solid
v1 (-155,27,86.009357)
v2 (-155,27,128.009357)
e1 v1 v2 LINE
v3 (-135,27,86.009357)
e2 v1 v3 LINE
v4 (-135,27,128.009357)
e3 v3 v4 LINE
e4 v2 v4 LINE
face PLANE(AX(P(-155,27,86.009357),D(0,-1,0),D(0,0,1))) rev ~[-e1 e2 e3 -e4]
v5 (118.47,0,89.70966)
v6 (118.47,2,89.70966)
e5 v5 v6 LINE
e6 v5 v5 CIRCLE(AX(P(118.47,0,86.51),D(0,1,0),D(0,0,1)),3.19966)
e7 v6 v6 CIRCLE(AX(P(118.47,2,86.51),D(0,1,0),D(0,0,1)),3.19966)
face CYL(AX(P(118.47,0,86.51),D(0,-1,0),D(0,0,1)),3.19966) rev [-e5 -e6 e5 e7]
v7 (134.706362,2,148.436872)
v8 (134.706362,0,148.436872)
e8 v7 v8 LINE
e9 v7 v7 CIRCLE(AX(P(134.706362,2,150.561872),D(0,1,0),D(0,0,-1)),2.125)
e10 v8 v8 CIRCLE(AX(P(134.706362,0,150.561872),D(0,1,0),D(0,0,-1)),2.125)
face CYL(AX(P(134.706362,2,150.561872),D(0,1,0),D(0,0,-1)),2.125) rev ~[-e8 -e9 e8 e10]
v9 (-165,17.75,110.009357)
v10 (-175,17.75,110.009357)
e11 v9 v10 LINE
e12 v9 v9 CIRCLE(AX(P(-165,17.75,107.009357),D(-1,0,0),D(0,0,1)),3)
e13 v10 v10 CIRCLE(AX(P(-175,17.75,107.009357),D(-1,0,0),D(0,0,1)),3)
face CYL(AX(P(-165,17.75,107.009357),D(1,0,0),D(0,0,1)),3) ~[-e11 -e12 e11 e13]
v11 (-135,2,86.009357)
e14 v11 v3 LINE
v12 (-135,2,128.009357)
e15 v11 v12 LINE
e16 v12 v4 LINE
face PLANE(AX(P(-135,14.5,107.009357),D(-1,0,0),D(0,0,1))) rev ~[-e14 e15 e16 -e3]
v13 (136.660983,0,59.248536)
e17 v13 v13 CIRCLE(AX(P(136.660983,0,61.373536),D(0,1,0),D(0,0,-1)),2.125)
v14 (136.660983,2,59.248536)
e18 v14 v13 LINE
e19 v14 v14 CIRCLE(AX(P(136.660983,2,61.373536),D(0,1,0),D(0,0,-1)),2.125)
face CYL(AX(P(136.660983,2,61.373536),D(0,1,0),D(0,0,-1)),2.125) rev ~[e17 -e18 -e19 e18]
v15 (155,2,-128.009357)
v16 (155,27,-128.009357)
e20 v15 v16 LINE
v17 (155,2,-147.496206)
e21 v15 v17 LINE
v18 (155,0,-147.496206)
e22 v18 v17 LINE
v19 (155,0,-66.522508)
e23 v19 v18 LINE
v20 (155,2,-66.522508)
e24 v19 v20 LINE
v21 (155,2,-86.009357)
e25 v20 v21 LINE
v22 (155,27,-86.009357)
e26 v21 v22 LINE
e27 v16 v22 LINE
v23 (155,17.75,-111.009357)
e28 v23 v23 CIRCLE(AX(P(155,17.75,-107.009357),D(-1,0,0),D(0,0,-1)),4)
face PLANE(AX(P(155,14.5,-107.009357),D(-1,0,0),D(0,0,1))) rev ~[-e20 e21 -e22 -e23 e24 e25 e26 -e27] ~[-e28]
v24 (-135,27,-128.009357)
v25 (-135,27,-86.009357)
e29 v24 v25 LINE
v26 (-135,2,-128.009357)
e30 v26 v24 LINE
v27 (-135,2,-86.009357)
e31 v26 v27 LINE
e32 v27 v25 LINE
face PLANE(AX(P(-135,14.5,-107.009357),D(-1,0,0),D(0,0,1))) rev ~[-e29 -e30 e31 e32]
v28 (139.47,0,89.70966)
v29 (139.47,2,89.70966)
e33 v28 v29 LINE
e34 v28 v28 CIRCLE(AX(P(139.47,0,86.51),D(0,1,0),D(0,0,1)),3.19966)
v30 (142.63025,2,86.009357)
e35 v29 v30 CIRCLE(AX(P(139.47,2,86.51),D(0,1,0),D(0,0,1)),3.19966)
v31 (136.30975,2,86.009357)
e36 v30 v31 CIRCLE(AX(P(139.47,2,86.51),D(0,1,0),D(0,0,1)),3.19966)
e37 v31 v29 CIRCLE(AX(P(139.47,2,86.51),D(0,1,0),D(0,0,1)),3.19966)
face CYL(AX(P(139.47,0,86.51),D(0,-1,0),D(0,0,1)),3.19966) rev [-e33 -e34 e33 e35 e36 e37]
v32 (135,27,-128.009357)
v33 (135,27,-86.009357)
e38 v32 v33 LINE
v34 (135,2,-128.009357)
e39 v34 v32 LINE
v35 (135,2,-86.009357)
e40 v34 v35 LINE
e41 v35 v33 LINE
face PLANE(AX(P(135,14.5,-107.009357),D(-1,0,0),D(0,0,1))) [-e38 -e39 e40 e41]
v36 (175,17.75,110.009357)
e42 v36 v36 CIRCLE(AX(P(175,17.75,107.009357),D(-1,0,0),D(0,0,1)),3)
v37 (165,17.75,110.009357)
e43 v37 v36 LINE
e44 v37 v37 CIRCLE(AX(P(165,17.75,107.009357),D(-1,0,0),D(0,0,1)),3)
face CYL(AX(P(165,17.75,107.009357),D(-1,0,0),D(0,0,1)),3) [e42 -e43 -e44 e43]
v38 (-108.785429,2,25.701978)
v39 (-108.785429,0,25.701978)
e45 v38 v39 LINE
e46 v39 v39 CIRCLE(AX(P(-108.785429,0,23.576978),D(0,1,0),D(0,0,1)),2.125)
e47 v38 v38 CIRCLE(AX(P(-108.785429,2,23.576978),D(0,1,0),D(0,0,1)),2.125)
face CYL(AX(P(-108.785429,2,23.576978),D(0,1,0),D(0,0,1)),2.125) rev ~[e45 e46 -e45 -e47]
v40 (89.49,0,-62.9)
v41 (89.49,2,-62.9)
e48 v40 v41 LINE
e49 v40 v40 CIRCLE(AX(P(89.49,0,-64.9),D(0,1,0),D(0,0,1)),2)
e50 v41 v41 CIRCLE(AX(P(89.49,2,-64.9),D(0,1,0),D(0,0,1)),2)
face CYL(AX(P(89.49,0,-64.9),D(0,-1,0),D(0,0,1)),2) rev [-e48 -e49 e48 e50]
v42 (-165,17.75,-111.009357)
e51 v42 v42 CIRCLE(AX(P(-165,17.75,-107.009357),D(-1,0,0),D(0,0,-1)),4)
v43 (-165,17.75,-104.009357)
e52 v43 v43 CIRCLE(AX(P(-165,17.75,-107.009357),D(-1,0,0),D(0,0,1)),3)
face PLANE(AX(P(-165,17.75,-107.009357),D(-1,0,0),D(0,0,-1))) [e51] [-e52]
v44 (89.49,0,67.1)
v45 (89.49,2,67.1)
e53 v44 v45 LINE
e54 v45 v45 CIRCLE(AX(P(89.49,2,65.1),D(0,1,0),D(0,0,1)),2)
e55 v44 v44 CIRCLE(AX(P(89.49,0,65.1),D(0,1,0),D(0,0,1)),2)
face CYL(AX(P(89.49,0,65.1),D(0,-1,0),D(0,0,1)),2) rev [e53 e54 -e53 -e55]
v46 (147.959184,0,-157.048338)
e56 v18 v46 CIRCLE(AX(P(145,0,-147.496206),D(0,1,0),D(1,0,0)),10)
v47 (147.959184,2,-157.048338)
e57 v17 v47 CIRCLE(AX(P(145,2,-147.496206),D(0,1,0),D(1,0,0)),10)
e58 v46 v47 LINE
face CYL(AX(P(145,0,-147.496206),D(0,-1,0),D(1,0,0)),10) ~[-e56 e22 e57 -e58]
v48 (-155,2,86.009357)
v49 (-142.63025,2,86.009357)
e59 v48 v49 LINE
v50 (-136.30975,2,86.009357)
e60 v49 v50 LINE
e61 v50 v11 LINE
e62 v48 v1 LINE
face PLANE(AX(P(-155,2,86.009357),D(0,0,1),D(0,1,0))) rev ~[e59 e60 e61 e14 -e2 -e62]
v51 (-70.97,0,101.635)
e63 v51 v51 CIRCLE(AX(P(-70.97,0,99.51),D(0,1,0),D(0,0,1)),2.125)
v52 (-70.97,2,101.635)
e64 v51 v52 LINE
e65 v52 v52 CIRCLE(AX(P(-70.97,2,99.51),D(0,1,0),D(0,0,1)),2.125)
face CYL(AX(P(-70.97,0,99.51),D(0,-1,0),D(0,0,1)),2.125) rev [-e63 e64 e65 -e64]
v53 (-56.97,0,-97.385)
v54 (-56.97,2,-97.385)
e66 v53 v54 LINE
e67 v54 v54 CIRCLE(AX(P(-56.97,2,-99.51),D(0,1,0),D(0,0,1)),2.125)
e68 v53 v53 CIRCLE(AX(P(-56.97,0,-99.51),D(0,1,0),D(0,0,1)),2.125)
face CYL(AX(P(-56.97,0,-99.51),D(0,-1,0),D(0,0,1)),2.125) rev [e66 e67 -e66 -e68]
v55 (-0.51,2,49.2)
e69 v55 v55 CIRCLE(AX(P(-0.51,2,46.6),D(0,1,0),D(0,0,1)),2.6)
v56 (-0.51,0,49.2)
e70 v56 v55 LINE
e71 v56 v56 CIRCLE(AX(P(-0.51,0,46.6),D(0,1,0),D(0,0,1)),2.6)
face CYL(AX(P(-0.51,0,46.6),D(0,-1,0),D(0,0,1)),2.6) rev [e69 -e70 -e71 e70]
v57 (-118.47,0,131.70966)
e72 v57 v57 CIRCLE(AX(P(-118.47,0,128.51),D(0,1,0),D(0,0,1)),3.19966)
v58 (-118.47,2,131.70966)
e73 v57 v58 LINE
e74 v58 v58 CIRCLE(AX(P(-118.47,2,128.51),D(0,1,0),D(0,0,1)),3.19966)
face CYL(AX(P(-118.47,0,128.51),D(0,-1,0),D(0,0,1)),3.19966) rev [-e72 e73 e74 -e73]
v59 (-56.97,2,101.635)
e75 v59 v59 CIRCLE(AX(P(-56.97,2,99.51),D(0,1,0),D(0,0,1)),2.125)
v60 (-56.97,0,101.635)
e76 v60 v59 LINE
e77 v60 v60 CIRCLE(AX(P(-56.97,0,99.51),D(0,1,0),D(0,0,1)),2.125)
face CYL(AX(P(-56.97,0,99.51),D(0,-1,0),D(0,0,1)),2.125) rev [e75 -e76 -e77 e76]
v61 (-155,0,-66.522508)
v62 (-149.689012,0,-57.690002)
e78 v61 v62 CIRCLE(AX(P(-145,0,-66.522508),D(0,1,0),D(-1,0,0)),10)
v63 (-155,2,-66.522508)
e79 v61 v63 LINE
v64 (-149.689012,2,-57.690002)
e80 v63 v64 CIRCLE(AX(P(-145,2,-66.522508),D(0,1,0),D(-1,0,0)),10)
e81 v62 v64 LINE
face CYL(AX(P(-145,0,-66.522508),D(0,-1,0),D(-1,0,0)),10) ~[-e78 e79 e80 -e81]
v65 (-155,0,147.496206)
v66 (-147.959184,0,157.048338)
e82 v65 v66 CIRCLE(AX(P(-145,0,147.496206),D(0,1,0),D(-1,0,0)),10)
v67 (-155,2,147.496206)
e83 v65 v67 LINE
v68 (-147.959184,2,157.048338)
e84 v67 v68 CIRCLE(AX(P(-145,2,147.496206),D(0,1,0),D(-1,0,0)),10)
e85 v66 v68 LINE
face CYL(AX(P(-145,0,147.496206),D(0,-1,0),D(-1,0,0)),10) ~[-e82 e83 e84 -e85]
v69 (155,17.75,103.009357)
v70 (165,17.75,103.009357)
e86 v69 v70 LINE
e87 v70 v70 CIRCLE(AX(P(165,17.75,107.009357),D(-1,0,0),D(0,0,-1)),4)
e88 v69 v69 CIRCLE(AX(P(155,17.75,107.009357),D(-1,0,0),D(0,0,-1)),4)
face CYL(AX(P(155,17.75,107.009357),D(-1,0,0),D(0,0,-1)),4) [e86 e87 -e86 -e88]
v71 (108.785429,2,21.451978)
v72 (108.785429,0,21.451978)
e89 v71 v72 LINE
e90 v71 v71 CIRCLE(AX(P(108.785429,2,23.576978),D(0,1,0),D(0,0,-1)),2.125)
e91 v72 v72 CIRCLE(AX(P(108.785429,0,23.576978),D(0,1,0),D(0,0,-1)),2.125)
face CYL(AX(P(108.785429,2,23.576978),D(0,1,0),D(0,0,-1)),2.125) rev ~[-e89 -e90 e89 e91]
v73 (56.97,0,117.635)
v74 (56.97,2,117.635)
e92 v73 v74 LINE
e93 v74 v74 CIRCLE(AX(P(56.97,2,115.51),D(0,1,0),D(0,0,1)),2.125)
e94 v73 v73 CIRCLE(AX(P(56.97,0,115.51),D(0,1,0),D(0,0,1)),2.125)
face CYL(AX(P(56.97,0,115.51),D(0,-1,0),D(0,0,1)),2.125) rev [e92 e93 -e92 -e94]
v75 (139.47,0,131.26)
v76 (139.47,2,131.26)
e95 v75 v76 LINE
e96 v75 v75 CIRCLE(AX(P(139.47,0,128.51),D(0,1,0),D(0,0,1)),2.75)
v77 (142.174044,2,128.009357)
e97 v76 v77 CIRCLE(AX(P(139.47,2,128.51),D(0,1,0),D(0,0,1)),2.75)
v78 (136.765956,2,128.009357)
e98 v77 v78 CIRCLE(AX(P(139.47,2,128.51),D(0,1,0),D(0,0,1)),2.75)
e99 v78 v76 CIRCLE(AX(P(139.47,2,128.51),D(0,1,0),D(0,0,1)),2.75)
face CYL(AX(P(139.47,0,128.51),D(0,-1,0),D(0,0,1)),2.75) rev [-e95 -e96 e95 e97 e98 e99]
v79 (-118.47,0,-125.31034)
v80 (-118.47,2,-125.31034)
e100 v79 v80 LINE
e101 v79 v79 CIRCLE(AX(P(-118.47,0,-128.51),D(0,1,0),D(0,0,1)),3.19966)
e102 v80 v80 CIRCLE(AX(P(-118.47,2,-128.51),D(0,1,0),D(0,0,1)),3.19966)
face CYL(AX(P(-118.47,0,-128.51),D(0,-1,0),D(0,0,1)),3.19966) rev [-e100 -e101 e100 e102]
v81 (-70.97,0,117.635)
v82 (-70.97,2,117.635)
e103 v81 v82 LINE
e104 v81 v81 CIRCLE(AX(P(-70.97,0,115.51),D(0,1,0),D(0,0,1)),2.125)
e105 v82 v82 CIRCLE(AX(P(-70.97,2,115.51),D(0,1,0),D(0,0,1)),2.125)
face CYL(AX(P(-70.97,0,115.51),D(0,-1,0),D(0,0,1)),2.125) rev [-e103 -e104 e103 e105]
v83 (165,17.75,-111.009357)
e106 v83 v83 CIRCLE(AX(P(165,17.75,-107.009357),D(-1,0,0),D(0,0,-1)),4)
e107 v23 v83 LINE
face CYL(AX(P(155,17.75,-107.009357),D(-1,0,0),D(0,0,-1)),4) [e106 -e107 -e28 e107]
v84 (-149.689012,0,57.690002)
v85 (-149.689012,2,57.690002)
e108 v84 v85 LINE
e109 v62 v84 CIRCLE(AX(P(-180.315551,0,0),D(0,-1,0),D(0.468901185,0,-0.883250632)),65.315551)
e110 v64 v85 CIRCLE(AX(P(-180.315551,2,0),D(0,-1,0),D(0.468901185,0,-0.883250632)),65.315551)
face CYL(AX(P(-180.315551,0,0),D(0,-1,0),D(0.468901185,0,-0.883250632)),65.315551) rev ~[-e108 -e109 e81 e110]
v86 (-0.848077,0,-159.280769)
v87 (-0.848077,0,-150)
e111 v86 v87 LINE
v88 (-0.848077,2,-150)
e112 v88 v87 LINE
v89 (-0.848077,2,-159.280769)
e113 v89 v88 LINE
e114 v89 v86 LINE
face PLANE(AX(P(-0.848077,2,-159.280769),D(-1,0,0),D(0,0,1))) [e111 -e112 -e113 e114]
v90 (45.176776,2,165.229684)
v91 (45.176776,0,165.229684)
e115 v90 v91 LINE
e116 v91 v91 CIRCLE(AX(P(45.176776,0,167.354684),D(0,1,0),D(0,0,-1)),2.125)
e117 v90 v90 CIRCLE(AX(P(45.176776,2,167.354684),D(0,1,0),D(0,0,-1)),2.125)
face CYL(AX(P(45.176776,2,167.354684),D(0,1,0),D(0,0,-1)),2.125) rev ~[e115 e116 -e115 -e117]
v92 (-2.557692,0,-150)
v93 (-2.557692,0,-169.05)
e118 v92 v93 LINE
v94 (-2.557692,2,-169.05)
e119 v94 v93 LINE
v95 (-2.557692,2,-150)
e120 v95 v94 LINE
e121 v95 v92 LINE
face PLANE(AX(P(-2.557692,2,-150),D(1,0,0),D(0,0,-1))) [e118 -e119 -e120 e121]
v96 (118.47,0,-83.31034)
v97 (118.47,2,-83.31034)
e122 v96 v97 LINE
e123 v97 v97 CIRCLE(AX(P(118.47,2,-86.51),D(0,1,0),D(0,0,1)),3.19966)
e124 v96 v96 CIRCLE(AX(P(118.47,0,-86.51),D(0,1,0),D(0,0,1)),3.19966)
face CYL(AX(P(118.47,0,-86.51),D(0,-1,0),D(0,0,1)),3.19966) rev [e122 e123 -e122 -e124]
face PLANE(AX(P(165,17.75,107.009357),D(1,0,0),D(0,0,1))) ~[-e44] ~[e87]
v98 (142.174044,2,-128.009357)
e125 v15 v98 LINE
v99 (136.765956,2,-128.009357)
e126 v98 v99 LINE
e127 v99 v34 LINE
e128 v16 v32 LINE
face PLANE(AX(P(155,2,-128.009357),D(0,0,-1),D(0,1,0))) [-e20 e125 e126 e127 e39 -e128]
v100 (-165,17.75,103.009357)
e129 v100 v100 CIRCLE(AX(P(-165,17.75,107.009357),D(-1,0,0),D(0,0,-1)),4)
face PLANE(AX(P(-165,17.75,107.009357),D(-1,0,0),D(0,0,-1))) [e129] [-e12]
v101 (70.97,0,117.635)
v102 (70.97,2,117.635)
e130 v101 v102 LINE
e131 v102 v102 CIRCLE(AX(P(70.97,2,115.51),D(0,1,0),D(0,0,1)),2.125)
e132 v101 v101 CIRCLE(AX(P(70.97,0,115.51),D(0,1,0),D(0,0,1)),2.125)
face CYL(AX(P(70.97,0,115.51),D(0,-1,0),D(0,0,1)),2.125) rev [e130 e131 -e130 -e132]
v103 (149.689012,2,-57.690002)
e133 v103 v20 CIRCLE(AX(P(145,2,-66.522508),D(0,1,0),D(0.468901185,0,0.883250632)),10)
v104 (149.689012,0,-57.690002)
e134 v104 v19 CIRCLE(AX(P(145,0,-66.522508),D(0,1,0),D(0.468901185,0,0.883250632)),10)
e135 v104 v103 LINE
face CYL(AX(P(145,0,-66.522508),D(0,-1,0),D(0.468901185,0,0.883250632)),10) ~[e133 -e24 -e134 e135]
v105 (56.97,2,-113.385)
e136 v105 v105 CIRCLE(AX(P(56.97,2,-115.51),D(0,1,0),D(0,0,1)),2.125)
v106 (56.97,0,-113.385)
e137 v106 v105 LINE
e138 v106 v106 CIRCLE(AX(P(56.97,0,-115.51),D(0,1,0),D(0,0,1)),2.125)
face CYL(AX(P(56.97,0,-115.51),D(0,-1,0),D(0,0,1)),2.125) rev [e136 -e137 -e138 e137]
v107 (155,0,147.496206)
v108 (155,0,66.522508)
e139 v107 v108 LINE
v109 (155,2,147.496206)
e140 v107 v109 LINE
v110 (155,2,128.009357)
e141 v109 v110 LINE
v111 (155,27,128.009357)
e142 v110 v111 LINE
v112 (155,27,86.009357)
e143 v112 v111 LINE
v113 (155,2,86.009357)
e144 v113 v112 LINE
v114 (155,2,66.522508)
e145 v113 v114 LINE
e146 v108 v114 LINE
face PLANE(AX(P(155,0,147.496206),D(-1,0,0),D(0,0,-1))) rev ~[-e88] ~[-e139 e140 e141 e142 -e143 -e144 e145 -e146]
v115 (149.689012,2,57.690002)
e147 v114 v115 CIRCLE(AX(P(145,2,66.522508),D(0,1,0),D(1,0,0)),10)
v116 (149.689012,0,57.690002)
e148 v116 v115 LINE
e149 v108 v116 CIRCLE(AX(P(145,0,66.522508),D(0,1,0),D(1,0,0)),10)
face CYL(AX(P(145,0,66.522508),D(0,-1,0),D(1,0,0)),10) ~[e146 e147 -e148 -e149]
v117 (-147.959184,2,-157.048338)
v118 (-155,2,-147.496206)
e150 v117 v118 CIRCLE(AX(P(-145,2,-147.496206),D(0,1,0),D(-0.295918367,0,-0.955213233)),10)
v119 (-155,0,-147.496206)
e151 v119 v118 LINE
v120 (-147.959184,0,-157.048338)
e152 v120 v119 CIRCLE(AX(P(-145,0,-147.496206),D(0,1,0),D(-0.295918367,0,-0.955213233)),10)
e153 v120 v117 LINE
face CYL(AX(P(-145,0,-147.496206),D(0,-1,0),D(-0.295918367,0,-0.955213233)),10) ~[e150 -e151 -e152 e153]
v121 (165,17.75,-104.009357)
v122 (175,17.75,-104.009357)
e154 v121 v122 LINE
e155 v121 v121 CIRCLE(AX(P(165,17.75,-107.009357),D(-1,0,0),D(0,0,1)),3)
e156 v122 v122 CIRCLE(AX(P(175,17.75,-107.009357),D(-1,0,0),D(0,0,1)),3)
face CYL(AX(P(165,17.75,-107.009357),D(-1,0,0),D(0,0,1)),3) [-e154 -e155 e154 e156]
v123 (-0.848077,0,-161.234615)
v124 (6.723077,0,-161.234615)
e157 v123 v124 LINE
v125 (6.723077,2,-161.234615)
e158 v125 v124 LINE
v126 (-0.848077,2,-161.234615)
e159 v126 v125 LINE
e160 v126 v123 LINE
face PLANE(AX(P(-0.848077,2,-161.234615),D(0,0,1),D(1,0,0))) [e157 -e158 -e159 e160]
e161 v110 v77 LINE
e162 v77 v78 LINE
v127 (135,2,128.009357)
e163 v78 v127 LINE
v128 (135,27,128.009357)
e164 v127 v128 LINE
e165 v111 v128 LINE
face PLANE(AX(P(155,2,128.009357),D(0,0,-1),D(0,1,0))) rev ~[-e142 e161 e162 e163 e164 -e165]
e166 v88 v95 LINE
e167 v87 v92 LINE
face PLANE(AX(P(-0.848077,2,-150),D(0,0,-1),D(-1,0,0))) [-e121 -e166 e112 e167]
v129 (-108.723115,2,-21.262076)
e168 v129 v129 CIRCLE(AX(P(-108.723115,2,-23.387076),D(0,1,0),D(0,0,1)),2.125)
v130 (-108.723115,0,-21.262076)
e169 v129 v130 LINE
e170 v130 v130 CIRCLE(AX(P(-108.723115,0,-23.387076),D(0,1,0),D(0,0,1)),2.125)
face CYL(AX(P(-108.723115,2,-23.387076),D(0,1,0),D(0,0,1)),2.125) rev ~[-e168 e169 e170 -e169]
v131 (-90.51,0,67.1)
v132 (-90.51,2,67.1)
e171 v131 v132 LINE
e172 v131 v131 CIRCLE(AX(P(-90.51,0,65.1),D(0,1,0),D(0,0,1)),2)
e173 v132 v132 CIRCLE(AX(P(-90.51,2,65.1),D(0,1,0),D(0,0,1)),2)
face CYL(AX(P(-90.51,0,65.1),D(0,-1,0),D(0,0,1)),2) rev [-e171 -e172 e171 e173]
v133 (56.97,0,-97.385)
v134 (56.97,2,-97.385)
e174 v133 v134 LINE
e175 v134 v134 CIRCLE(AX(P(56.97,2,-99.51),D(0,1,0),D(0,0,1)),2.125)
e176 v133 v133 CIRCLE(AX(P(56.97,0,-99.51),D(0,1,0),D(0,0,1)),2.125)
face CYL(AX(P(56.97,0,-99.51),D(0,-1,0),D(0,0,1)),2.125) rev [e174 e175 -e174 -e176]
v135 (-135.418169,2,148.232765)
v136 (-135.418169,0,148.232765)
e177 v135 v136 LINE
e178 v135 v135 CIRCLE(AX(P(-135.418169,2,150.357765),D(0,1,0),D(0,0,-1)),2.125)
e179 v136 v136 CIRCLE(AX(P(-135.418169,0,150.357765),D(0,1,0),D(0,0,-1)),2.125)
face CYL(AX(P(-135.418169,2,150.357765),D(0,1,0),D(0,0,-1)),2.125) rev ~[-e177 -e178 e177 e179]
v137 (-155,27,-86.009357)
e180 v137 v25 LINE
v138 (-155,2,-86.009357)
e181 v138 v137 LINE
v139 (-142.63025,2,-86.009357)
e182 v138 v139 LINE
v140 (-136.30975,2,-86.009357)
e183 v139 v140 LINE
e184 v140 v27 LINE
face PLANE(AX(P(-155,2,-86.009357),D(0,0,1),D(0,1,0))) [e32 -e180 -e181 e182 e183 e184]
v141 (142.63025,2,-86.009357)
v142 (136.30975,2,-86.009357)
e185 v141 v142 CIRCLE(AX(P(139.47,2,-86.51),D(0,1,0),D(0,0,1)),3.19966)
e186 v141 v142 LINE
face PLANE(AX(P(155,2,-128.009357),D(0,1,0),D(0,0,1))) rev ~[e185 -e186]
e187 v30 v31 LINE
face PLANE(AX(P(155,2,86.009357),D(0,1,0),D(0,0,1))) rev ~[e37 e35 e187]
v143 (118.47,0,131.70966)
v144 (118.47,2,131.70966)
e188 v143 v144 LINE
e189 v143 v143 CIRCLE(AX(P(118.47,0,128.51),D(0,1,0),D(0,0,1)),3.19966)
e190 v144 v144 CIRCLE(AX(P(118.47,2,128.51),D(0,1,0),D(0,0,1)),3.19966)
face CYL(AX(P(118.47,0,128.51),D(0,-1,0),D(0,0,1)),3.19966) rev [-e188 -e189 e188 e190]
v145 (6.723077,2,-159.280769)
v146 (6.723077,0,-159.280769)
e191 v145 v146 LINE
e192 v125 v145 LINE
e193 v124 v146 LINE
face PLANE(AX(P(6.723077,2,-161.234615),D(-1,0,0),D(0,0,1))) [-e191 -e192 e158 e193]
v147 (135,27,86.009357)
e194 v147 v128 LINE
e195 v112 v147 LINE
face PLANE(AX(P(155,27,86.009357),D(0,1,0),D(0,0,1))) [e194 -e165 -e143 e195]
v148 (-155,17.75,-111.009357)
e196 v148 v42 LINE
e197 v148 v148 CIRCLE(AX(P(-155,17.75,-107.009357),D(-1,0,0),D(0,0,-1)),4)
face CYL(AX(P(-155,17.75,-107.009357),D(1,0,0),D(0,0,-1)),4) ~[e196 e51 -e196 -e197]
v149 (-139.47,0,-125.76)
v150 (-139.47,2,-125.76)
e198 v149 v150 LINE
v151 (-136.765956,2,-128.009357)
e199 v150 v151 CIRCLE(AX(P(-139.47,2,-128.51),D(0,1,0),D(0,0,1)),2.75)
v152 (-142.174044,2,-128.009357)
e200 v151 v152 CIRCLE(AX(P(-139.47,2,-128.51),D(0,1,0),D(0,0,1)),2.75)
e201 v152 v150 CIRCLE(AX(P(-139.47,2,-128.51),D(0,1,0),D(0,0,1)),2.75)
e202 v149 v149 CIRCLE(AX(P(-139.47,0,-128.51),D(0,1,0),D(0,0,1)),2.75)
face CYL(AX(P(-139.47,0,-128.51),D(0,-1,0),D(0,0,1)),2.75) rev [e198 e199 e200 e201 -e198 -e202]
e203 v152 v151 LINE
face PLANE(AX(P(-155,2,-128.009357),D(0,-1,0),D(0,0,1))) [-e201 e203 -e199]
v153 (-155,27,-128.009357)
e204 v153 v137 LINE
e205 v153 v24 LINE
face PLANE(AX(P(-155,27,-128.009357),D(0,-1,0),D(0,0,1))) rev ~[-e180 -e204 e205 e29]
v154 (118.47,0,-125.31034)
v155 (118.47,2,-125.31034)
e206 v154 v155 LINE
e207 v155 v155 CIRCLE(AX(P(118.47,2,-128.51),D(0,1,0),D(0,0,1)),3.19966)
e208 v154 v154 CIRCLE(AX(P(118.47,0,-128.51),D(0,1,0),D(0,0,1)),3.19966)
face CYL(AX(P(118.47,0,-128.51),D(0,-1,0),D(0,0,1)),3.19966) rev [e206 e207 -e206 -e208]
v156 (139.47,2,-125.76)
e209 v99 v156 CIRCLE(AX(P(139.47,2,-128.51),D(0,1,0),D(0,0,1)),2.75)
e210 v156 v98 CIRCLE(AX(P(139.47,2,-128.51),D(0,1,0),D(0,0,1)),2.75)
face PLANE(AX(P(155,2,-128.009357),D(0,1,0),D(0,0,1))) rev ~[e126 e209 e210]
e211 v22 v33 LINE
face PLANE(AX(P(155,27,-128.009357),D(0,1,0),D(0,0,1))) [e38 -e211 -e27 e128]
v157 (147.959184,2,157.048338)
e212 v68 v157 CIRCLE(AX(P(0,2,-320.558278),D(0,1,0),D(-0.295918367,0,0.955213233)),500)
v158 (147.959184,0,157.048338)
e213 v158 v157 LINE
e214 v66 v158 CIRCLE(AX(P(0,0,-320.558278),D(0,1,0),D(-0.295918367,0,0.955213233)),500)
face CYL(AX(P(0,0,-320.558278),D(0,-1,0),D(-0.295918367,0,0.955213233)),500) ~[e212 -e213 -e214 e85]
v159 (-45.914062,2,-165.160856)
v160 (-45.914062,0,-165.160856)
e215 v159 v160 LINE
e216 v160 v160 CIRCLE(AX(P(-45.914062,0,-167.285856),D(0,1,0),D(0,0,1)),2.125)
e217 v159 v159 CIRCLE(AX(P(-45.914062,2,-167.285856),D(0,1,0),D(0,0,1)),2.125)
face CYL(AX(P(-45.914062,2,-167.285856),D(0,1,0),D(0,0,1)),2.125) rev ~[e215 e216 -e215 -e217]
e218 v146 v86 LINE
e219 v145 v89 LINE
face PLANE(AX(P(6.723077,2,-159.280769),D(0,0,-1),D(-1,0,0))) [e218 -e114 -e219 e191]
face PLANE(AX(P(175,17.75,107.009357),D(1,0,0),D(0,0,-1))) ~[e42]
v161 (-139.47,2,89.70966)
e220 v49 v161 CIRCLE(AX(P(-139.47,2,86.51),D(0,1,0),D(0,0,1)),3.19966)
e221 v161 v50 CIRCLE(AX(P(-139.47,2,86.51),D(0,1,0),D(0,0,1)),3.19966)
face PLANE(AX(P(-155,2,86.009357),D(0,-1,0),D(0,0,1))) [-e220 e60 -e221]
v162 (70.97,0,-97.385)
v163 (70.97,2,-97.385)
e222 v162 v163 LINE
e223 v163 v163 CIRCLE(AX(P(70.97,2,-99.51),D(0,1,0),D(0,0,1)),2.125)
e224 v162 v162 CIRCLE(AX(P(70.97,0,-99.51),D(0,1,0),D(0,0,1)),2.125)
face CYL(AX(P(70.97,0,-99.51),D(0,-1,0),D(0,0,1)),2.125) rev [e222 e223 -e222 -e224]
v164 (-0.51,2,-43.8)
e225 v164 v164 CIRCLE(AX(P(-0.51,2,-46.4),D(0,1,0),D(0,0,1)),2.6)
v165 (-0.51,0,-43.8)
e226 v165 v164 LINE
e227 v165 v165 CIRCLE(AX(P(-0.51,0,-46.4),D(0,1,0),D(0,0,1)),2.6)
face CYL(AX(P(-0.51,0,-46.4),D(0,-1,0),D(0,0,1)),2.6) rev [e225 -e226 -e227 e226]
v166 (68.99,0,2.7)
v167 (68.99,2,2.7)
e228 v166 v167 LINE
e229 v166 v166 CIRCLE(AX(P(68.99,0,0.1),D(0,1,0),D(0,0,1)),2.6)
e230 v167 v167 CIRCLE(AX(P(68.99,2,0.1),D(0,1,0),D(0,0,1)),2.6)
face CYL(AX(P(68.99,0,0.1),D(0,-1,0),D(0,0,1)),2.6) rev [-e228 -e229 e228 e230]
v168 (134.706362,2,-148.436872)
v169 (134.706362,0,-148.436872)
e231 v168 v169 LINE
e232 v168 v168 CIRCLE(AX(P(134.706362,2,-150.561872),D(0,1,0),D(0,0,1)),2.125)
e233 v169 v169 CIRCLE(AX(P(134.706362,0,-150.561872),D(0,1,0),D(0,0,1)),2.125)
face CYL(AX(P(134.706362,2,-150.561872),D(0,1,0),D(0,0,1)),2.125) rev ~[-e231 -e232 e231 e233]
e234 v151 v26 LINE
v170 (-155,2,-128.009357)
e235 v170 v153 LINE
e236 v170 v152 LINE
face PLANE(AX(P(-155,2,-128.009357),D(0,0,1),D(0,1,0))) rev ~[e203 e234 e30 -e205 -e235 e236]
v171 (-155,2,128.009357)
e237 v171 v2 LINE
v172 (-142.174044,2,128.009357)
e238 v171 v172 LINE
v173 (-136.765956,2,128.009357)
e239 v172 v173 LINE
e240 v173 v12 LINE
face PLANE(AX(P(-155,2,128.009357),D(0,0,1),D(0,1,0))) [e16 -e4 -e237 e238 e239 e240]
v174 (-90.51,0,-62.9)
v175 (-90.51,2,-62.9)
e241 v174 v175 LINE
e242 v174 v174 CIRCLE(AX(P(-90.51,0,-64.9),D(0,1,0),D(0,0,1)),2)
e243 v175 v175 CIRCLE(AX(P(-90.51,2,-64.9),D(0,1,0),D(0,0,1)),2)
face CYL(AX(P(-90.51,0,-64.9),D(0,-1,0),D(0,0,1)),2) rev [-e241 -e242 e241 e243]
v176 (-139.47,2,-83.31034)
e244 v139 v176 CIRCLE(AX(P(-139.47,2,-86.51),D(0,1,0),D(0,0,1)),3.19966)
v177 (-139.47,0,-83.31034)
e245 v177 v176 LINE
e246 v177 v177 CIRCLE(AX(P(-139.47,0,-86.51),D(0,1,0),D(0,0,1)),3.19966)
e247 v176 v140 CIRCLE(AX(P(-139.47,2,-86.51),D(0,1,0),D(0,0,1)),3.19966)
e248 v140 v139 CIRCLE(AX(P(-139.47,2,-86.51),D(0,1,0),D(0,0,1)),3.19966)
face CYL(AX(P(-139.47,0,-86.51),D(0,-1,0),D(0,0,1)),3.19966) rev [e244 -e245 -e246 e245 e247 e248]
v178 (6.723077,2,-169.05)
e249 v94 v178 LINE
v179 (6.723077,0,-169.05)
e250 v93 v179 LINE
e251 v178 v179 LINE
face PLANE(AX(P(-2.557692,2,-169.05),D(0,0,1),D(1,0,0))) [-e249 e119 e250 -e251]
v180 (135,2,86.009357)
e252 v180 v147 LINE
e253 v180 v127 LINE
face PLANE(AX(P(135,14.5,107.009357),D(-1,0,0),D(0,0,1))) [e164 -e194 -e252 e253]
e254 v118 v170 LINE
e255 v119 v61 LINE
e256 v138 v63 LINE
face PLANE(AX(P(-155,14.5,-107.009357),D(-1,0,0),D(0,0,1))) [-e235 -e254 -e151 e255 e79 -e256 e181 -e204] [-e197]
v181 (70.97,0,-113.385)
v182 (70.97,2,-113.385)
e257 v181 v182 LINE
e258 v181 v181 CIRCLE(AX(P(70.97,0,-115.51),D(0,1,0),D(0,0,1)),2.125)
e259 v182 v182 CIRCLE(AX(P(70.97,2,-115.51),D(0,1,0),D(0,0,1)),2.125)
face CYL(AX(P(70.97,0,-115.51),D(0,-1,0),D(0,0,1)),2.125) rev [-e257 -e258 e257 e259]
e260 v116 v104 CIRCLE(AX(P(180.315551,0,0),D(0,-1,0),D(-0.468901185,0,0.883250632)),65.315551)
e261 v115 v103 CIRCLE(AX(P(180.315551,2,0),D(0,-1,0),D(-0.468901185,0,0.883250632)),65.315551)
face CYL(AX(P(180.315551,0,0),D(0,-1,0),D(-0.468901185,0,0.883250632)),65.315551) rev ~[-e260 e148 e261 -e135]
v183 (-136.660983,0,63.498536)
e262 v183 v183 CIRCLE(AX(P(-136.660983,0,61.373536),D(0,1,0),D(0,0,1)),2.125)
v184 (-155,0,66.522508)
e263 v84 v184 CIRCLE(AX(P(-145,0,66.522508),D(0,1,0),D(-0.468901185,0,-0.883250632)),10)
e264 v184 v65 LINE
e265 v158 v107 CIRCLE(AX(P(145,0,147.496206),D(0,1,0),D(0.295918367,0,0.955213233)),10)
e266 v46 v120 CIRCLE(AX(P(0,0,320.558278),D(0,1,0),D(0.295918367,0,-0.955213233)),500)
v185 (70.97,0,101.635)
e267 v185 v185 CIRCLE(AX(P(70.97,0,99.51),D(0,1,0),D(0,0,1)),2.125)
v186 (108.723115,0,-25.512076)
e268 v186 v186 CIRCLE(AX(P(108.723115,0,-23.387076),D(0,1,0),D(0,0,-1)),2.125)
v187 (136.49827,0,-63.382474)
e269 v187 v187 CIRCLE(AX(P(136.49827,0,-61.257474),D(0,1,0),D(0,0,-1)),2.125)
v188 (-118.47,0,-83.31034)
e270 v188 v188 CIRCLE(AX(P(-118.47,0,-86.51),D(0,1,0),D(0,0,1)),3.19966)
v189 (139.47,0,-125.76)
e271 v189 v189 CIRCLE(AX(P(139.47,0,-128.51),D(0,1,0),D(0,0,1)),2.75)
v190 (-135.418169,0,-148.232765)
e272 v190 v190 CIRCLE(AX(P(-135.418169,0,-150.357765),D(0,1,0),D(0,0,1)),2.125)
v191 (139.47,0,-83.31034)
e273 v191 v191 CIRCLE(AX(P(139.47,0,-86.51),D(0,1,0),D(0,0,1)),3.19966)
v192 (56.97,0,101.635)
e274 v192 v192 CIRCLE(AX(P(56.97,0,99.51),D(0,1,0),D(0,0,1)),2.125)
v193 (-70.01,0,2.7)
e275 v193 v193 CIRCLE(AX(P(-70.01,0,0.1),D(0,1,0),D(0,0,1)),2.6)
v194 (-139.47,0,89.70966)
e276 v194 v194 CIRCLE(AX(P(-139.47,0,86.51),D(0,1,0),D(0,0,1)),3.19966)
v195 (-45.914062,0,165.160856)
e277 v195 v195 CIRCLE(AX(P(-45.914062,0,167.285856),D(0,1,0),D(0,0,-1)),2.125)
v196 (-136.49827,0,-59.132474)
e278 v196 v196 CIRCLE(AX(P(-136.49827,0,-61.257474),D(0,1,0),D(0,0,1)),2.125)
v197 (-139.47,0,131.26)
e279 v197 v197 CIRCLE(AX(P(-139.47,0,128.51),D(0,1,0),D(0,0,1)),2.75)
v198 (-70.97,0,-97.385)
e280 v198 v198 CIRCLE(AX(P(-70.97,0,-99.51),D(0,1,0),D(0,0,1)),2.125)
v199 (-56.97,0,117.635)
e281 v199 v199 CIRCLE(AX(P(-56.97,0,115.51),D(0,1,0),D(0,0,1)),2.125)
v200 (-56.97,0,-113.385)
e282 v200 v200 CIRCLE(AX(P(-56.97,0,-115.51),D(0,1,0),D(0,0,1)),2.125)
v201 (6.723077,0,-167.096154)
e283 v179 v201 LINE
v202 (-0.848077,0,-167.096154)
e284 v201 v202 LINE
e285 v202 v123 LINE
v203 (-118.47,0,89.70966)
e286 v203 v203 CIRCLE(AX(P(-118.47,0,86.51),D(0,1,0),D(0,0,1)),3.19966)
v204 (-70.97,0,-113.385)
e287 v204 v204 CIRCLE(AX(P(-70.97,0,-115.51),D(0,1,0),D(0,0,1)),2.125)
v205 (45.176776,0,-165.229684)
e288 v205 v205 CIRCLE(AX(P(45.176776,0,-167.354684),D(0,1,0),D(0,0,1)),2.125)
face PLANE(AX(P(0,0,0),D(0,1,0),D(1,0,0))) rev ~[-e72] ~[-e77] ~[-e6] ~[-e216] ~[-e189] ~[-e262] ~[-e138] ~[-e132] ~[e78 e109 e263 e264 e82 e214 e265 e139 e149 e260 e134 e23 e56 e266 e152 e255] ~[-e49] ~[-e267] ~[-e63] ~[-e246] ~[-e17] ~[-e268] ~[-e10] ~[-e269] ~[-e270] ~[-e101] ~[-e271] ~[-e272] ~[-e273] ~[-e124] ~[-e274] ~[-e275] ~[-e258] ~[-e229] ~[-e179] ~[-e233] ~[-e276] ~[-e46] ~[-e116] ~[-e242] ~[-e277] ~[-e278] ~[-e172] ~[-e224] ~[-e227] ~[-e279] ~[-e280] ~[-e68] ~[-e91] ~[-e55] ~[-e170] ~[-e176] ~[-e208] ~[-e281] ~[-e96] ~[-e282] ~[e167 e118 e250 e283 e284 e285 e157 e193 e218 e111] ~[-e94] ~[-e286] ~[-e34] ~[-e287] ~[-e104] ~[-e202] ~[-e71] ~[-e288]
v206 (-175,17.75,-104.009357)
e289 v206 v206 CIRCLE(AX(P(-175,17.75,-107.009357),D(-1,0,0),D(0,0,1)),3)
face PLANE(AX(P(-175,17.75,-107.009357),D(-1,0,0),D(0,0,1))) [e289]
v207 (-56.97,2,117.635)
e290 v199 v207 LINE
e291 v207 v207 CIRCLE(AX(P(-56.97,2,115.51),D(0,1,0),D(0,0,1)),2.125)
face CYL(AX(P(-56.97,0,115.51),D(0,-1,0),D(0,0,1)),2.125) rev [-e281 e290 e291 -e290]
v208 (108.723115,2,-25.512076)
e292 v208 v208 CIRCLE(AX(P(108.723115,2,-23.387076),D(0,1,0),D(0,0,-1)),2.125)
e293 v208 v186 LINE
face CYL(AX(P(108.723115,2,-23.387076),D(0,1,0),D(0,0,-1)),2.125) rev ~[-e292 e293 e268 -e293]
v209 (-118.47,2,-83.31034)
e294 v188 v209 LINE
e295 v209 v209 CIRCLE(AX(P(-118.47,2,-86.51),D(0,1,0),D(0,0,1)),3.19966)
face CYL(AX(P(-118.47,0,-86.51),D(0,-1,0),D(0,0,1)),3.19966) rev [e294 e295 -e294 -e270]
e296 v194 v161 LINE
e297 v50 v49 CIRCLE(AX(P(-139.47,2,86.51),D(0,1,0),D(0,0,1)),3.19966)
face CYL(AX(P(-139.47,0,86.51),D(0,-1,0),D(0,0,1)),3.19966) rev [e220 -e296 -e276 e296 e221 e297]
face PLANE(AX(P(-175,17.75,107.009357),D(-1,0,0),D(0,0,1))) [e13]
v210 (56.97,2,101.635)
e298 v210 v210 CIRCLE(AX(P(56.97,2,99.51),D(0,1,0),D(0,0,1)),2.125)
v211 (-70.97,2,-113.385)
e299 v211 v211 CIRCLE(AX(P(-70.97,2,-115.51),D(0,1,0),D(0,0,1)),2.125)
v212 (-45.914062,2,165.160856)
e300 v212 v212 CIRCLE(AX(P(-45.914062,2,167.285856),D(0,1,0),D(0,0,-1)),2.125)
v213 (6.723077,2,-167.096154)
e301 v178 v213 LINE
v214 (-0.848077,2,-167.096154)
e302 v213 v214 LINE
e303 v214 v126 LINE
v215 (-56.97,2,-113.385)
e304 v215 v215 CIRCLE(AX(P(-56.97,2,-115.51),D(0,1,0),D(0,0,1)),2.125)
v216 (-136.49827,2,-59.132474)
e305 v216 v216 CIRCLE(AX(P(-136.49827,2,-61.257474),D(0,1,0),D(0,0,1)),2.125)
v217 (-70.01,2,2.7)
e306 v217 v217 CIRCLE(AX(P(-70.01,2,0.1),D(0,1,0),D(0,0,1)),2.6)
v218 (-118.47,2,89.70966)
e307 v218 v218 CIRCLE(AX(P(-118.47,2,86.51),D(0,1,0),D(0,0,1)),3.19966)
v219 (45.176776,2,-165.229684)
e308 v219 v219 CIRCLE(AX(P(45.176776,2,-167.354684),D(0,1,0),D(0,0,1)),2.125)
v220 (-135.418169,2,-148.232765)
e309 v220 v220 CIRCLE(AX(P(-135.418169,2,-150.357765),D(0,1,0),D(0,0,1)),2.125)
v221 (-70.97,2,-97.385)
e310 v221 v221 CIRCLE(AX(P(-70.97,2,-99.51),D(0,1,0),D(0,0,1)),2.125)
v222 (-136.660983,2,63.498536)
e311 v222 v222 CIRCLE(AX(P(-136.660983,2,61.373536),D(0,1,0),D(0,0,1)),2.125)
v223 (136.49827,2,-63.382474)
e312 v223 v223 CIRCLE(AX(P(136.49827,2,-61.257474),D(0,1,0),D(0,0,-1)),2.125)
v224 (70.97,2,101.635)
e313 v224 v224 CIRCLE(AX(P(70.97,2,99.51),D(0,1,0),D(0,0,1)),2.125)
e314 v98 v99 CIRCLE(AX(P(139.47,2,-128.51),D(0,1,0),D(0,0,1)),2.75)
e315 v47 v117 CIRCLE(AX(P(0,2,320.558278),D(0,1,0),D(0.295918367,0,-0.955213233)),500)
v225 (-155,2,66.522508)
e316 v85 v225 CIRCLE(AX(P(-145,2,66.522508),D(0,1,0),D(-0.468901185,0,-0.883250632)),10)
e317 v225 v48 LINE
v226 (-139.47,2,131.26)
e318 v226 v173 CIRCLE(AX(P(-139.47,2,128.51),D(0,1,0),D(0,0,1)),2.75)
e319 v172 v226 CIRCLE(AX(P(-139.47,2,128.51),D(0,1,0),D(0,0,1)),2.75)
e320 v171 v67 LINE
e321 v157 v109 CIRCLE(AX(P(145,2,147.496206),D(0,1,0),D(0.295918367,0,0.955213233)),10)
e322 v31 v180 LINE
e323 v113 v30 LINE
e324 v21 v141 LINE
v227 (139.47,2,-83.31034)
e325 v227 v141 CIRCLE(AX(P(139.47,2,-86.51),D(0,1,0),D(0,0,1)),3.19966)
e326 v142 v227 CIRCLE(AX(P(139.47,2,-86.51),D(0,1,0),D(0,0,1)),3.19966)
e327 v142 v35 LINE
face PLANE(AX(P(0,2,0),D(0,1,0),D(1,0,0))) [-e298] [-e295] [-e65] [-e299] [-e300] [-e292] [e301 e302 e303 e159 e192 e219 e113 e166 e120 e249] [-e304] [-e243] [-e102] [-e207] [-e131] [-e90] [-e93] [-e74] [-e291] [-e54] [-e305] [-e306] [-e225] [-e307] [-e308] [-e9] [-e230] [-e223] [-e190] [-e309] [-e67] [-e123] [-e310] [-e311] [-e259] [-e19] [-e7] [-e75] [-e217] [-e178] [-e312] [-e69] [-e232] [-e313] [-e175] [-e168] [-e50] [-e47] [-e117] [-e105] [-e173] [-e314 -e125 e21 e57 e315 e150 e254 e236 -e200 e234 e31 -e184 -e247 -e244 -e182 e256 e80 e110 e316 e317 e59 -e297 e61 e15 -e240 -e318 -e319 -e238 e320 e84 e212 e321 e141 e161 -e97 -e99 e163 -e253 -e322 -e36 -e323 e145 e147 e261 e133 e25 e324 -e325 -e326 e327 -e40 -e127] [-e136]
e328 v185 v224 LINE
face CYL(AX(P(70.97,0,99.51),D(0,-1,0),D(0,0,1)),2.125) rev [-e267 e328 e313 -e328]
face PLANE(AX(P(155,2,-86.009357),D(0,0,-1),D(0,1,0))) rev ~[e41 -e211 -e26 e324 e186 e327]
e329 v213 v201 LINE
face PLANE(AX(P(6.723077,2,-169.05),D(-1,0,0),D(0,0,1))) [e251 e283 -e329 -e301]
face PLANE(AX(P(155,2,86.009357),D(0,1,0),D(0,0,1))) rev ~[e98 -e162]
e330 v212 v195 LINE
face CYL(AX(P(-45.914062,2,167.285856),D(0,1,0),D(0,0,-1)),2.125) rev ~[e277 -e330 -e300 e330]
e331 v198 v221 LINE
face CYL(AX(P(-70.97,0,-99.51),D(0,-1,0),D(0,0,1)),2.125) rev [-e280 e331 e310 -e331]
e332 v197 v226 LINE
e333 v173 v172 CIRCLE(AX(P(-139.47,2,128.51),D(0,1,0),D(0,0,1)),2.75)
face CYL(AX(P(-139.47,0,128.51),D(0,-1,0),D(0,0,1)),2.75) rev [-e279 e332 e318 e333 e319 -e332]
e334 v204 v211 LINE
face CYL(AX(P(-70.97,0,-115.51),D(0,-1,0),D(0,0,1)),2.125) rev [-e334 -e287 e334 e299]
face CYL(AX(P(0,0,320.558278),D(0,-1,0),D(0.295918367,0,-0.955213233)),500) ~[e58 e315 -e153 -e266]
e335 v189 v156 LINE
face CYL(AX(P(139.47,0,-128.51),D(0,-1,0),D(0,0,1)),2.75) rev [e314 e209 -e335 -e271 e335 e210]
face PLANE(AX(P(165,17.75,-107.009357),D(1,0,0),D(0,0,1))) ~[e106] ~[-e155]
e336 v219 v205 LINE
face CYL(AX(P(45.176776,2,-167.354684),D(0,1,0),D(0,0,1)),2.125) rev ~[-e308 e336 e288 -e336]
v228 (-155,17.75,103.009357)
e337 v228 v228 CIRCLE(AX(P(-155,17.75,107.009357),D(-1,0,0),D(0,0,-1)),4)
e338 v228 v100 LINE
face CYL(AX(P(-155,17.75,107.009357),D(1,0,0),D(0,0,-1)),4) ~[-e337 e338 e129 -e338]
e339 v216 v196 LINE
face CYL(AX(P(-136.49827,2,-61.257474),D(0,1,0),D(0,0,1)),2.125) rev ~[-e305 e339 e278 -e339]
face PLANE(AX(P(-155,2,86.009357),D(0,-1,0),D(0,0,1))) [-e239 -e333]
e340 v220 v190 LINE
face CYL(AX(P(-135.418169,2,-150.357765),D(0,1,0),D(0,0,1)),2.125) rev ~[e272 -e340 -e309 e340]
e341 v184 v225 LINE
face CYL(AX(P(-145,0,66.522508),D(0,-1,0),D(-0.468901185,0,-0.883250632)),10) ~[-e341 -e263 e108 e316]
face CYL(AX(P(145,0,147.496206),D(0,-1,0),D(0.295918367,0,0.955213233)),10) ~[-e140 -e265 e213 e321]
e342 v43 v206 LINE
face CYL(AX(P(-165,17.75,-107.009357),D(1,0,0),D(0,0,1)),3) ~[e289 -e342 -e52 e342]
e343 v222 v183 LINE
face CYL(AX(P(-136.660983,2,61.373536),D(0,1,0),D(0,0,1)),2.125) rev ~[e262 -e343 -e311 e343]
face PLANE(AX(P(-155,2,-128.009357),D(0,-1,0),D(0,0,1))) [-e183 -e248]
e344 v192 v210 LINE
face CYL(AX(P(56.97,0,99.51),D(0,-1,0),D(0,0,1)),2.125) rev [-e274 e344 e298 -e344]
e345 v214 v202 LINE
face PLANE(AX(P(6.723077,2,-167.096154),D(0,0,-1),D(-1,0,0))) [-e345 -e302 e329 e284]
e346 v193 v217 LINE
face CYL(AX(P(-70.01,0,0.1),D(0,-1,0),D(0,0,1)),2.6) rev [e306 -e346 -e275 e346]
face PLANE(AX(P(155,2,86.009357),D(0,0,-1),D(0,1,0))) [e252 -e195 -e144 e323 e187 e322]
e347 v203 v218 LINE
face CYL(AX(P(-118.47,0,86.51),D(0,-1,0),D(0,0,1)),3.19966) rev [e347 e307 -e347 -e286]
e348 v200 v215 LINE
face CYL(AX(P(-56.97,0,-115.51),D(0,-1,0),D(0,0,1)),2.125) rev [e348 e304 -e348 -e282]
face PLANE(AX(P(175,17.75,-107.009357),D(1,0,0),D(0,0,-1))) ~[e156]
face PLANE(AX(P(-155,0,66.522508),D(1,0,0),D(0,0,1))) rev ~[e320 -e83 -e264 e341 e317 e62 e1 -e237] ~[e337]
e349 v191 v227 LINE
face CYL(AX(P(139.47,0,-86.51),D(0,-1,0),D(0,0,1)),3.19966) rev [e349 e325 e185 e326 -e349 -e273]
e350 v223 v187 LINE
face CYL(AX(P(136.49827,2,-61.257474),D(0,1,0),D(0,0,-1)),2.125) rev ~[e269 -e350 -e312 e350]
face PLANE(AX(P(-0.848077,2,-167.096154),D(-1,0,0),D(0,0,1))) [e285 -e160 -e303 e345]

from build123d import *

# Parameters (mm, degrees)
SKETCH1_R           = 2.75
SKETCH1_R_2         = 3.19965974
SKETCH1_R_3         = 2.125
SKETCH1_R_4         = 2.6
SKETCH1_R_5         = 2
BOSS_EXTRUDE1_DEPTH = 2
CUT_EXTRUDE1_DEPTH  = 238.125138886
SKETCH3_R           = 2.125
CUT_EXTRUDE2_DEPTH  = 238.125138886
SKETCH5_W           = 42
SKETCH5_H           = 25
BOSS_EXTRUDE2_DEPTH = 20
BOSS_EXTRUDE3_START = -310
SKETCH5_2_W         = 42
SKETCH5_2_H         = 25
BOSS_EXTRUDE3_DEPTH = 20
SKETCH6_R           = 4
BOSS_EXTRUDE4_DEPTH = 10
SKETCH7_R           = 3
BOSS_EXTRUDE5_DEPTH = 10


with BuildPart() as part:
    # Sketch1 → Boss-Extrude1 (new body)
    with BuildSketch(Plane(origin=(0, 0, 0), x_dir=(1, 0, 0), z_dir=(0, 1, 0))):
        with BuildLine():
            Line((-155, 147.496205723), (-155, 66.522508221))
            ThreePointArc((-155, 66.522508221), (-153.570009292, 61.369359597), (-149.689011853, 57.690001904))
            ThreePointArc((-149.689011853, 57.690001904), (-115, 0), (-149.689011853, -57.690001904))
            ThreePointArc((-149.689011853, -57.690001904), (-153.570009292, -61.369359597), (-155, -66.522508221))
            Line((-155, -66.522508221), (-155, -147.496205723))
            ThreePointArc((-155, -147.496205723), (-153.049591193, -153.429508482), (-147.959183673, -157.048338049))
            ThreePointArc((-147.959183673, -157.048338049), (0, -179.441721715), (147.959183673, -157.048338049))
            ThreePointArc((147.959183673, -157.048338049), (153.049591193, -153.429508482), (155, -147.496205723))
            Line((155, -147.496205723), (155, -66.522508221))
            ThreePointArc((155, -66.522508221), (153.570009292, -61.369359597), (149.689011853, -57.690001904))
            ThreePointArc((149.689011853, -57.690001904), (115, 0), (149.689011853, 57.690001904))
            ThreePointArc((149.689011853, 57.690001904), (153.570009292, 61.369359597), (155, 66.522508221))
            Line((155, 66.522508221), (155, 147.496205723))
            ThreePointArc((155, 147.496205723), (153.049591193, 153.429508482), (147.959183673, 157.048338049))
            ThreePointArc((147.959183673, 157.048338049), (0, 179.441721715), (-147.959183673, 157.048338049))
            ThreePointArc((-147.959183673, 157.048338049), (-153.049591193, 153.429508482), (-155, 147.496205723))
        make_face()
        with Locations(Location((-139.47, 128.51, 0), (0, 0, 270))):
            Circle(SKETCH1_R, mode=Mode.SUBTRACT)
        with Locations(Location((-139.47, 86.51, 0), (0, 0, 270))):
            Circle(SKETCH1_R_2, mode=Mode.SUBTRACT)
        with Locations(Location((139.47, 86.51, 0), (0, 0, 270))):
            Circle(SKETCH1_R_2, mode=Mode.SUBTRACT)
        with Locations(Location((139.47, 128.51, 0), (0, 0, 270))):
            Circle(SKETCH1_R, mode=Mode.SUBTRACT)
        with Locations(Location((139.47, -86.51, 0), (0, 0, 270))):
            Circle(SKETCH1_R_2, mode=Mode.SUBTRACT)
        with Locations(Location((139.47, -128.51, 0), (0, 0, 270))):
            Circle(SKETCH1_R, mode=Mode.SUBTRACT)
        with Locations(Location((-139.47, -86.51, 0), (0, 0, 270))):
            Circle(SKETCH1_R_2, mode=Mode.SUBTRACT)
        with Locations(Location((-139.47, -128.51, 0), (0, 0, 270))):
            Circle(SKETCH1_R, mode=Mode.SUBTRACT)
        with Locations(Location((-70.97, 115.51, 0), (0, 0, 270))):
            Circle(SKETCH1_R_3, mode=Mode.SUBTRACT)
        with Locations(Location((-56.97, 115.51, 0), (0, 0, 270))):
            Circle(SKETCH1_R_3, mode=Mode.SUBTRACT)
        with Locations(Location((-70.97, 99.51, 0), (0, 0, 270))):
            Circle(SKETCH1_R_3, mode=Mode.SUBTRACT)
        with Locations(Location((-56.97, 99.51, 0), (0, 0, 270))):
            Circle(SKETCH1_R_3, mode=Mode.SUBTRACT)
        with Locations(Location((56.97, 99.51, 0), (0, 0, 270))):
            Circle(SKETCH1_R_3, mode=Mode.SUBTRACT)
        with Locations(Location((70.97, 99.51, 0), (0, 0, 270))):
            Circle(SKETCH1_R_3, mode=Mode.SUBTRACT)
        with Locations(Location((56.97, 115.51, 0), (0, 0, 270))):
            Circle(SKETCH1_R_3, mode=Mode.SUBTRACT)
        with Locations(Location((70.97, 115.51, 0), (0, 0, 270))):
            Circle(SKETCH1_R_3, mode=Mode.SUBTRACT)
        with Locations(Location((70.97, -99.51, 0), (0, 0, 270))):
            Circle(SKETCH1_R_3, mode=Mode.SUBTRACT)
        with Locations(Location((56.97, -99.51, 0), (0, 0, 270))):
            Circle(SKETCH1_R_3, mode=Mode.SUBTRACT)
        with Locations(Location((70.97, -115.51, 0), (0, 0, 270))):
            Circle(SKETCH1_R_3, mode=Mode.SUBTRACT)
        with Locations(Location((56.97, -115.51, 0), (0, 0, 270))):
            Circle(SKETCH1_R_3, mode=Mode.SUBTRACT)
        with Locations(Location((-56.97, -99.51, 0), (0, 0, 270))):
            Circle(SKETCH1_R_3, mode=Mode.SUBTRACT)
        with Locations(Location((-70.97, -99.51, 0), (0, 0, 270))):
            Circle(SKETCH1_R_3, mode=Mode.SUBTRACT)
        with Locations(Location((-56.97, -115.51, 0), (0, 0, 270))):
            Circle(SKETCH1_R_3, mode=Mode.SUBTRACT)
        with Locations(Location((-70.97, -115.51, 0), (0, 0, 270))):
            Circle(SKETCH1_R_3, mode=Mode.SUBTRACT)
        with Locations(Location((-118.47, 128.51, 0), (0, 0, 270))):
            Circle(SKETCH1_R_2, mode=Mode.SUBTRACT)
        with Locations(Location((-118.47, 86.51, 0), (0, 0, 270))):
            Circle(SKETCH1_R_2, mode=Mode.SUBTRACT)
        with Locations(Location((118.47, 86.51, 0), (0, 0, 270))):
            Circle(SKETCH1_R_2, mode=Mode.SUBTRACT)
        with Locations(Location((118.47, 128.51, 0), (0, 0, 270))):
            Circle(SKETCH1_R_2, mode=Mode.SUBTRACT)
        with Locations(Location((118.47, -128.51, 0), (0, 0, 270))):
            Circle(SKETCH1_R_2, mode=Mode.SUBTRACT)
        with Locations(Location((118.47, -86.51, 0), (0, 0, 270))):
            Circle(SKETCH1_R_2, mode=Mode.SUBTRACT)
        with Locations(Location((-118.47, -86.51, 0), (0, 0, 270))):
            Circle(SKETCH1_R_2, mode=Mode.SUBTRACT)
        with Locations(Location((-118.47, -128.51, 0), (0, 0, 270))):
            Circle(SKETCH1_R_2, mode=Mode.SUBTRACT)
        with Locations(Location((-0.51, 46.4, 0), (0, 0, 270))):
            Circle(SKETCH1_R_4, mode=Mode.SUBTRACT)
        with Locations(Location((68.99, -0.1, 0), (0, 0, 270))):
            Circle(SKETCH1_R_4, mode=Mode.SUBTRACT)
        with Locations(Location((-0.51, -46.6, 0), (0, 0, 270))):
            Circle(SKETCH1_R_4, mode=Mode.SUBTRACT)
        with Locations(Location((-70.01, -0.1, 0), (0, 0, 270))):
            Circle(SKETCH1_R_4, mode=Mode.SUBTRACT)
        with Locations(Location((-90.51, 64.9, 0), (0, 0, 270))):
            Circle(SKETCH1_R_5, mode=Mode.SUBTRACT)
        with Locations(Location((89.49, 64.9, 0), (0, 0, 270))):
            Circle(SKETCH1_R_5, mode=Mode.SUBTRACT)
        with Locations(Location((89.49, -65.1, 0), (0, 0, 270))):
            Circle(SKETCH1_R_5, mode=Mode.SUBTRACT)
        with Locations(Location((-90.51, -65.1, 0), (0, 0, 270))):
            Circle(SKETCH1_R_5, mode=Mode.SUBTRACT)
    extrude(amount=BOSS_EXTRUDE1_DEPTH)

    # Sketch2 → Cut-Extrude1 (cut, through all)
    with BuildSketch(Plane(origin=(0, 2, 0), x_dir=(1, 0, 0), z_dir=(0, 1, 0))):
        Polygon((-2.557692308, 169.05), (6.723076923, 169.05), (6.723076923, 167.096153846), (-0.848076923, 167.096153846), (-0.848076923, 161.234615385), (6.723076923, 161.234615385), (6.723076923, 159.280769231), (-0.848076923, 159.280769231), (-0.848076923, 150), (-2.557692308, 150), align=None)
    extrude(amount=-CUT_EXTRUDE1_DEPTH, mode=Mode.SUBTRACT)

    # Sketch3 → Cut-Extrude2 (cut, through all)
    with BuildSketch(Plane(origin=(0, 2, 0), x_dir=(1, 0, 0), z_dir=(0, 1, 0))):
        with Locations(Location((-135.418169234, 150.357764594, 0), (0, 0, 270))):
            Circle(SKETCH3_R)
        with Locations(Location((-45.914062128, 167.285855531, 0), (0, 0, 270))):
            Circle(SKETCH3_R)
        with Locations(Location((45.176775579, 167.354684187, 0), (0, 0, 270))):
            Circle(SKETCH3_R)
        with Locations(Location((134.706362354, 150.561871932, 0), (0, 0, 270))):
            Circle(SKETCH3_R)
        with Locations(Location((134.706362354, -150.561871932, 0), (0, 0, 90))):
            Circle(SKETCH3_R)
        with Locations(Location((45.176775579, -167.354684187, 0), (0, 0, 90))):
            Circle(SKETCH3_R)
        with Locations(Location((-45.914062128, -167.285855531, 0), (0, 0, 90))):
            Circle(SKETCH3_R)
        with Locations(Location((-135.418169234, -150.357764594, 0), (0, 0, 90))):
            Circle(SKETCH3_R)
        with Locations(Location((-136.498269922, 61.257473969, 0), (0, 0, 270))):
            Circle(SKETCH3_R)
        with Locations(Location((-108.723114922, 23.387075934, 0), (0, 0, 270))):
            Circle(SKETCH3_R)
        with Locations(Location((-108.785429276, -23.5769784, 0), (0, 0, 270))):
            Circle(SKETCH3_R)
        with Locations(Location((-136.660983133, -61.373536175, 0), (0, 0, 270))):
            Circle(SKETCH3_R)
        with Locations(Location((136.660983133, -61.373536175, 0), (0, 0, 90))):
            Circle(SKETCH3_R)
        with Locations(Location((108.785429276, -23.5769784, 0), (0, 0, 90))):
            Circle(SKETCH3_R)
        with Locations(Location((108.723114922, 23.387075934, 0), (0, 0, 90))):
            Circle(SKETCH3_R)
        with Locations(Location((136.498269922, 61.257473969, 0), (0, 0, 90))):
            Circle(SKETCH3_R)
    extrude(amount=-CUT_EXTRUDE2_DEPTH, mode=Mode.SUBTRACT)

    # Sketch5 → Boss-Extrude2 (add)
    with BuildSketch(Plane.ZY.offset(155)):
        with Locations((-107.009356972, 14.5)):
            Rectangle(SKETCH5_W, SKETCH5_H)
        with Locations((107.009356972, 14.5)):
            Rectangle(SKETCH5_W, SKETCH5_H)
    extrude(amount=-BOSS_EXTRUDE2_DEPTH)

    # Sketch5<2> → Boss-Extrude3 (add)
    with BuildSketch(Plane.ZY.offset(155).offset(BOSS_EXTRUDE3_START)):
        with Locations((-107.009356972, 14.5)):
            Rectangle(SKETCH5_2_W, SKETCH5_2_H)
        with Locations((107.009356972, 14.5)):
            Rectangle(SKETCH5_2_W, SKETCH5_2_H)
    extrude(amount=BOSS_EXTRUDE3_DEPTH)

    # Sketch6 → Boss-Extrude4 (add)
    with BuildSketch(Plane.ZY.offset(155)):
        with Locations(Location((107.009356972, 17.75, 0), (0, 0, 180))):
            Circle(SKETCH6_R)
        with Locations(Location((-107.009356972, 17.75, 0), (0, 0, 180))):
            Circle(SKETCH6_R)
    boss_extrude4 = extrude(amount=BOSS_EXTRUDE4_DEPTH)

    # Sketch7 → Boss-Extrude5 (add)
    with BuildSketch(Plane.ZY.offset(165)):
        with Locations((107.009356972, 17.75)):
            Circle(SKETCH7_R)
        with Locations((-107.009356972, 17.75)):
            Circle(SKETCH7_R)
    boss_extrude5 = extrude(amount=BOSS_EXTRUDE5_DEPTH)

    # Mirror1: Boss-Extrude4, Boss-Extrude5 across plane
    add(boss_extrude4.mirror(Plane.ZY))
    add(boss_extrude5.mirror(Plane.ZY))


solid = part.part
